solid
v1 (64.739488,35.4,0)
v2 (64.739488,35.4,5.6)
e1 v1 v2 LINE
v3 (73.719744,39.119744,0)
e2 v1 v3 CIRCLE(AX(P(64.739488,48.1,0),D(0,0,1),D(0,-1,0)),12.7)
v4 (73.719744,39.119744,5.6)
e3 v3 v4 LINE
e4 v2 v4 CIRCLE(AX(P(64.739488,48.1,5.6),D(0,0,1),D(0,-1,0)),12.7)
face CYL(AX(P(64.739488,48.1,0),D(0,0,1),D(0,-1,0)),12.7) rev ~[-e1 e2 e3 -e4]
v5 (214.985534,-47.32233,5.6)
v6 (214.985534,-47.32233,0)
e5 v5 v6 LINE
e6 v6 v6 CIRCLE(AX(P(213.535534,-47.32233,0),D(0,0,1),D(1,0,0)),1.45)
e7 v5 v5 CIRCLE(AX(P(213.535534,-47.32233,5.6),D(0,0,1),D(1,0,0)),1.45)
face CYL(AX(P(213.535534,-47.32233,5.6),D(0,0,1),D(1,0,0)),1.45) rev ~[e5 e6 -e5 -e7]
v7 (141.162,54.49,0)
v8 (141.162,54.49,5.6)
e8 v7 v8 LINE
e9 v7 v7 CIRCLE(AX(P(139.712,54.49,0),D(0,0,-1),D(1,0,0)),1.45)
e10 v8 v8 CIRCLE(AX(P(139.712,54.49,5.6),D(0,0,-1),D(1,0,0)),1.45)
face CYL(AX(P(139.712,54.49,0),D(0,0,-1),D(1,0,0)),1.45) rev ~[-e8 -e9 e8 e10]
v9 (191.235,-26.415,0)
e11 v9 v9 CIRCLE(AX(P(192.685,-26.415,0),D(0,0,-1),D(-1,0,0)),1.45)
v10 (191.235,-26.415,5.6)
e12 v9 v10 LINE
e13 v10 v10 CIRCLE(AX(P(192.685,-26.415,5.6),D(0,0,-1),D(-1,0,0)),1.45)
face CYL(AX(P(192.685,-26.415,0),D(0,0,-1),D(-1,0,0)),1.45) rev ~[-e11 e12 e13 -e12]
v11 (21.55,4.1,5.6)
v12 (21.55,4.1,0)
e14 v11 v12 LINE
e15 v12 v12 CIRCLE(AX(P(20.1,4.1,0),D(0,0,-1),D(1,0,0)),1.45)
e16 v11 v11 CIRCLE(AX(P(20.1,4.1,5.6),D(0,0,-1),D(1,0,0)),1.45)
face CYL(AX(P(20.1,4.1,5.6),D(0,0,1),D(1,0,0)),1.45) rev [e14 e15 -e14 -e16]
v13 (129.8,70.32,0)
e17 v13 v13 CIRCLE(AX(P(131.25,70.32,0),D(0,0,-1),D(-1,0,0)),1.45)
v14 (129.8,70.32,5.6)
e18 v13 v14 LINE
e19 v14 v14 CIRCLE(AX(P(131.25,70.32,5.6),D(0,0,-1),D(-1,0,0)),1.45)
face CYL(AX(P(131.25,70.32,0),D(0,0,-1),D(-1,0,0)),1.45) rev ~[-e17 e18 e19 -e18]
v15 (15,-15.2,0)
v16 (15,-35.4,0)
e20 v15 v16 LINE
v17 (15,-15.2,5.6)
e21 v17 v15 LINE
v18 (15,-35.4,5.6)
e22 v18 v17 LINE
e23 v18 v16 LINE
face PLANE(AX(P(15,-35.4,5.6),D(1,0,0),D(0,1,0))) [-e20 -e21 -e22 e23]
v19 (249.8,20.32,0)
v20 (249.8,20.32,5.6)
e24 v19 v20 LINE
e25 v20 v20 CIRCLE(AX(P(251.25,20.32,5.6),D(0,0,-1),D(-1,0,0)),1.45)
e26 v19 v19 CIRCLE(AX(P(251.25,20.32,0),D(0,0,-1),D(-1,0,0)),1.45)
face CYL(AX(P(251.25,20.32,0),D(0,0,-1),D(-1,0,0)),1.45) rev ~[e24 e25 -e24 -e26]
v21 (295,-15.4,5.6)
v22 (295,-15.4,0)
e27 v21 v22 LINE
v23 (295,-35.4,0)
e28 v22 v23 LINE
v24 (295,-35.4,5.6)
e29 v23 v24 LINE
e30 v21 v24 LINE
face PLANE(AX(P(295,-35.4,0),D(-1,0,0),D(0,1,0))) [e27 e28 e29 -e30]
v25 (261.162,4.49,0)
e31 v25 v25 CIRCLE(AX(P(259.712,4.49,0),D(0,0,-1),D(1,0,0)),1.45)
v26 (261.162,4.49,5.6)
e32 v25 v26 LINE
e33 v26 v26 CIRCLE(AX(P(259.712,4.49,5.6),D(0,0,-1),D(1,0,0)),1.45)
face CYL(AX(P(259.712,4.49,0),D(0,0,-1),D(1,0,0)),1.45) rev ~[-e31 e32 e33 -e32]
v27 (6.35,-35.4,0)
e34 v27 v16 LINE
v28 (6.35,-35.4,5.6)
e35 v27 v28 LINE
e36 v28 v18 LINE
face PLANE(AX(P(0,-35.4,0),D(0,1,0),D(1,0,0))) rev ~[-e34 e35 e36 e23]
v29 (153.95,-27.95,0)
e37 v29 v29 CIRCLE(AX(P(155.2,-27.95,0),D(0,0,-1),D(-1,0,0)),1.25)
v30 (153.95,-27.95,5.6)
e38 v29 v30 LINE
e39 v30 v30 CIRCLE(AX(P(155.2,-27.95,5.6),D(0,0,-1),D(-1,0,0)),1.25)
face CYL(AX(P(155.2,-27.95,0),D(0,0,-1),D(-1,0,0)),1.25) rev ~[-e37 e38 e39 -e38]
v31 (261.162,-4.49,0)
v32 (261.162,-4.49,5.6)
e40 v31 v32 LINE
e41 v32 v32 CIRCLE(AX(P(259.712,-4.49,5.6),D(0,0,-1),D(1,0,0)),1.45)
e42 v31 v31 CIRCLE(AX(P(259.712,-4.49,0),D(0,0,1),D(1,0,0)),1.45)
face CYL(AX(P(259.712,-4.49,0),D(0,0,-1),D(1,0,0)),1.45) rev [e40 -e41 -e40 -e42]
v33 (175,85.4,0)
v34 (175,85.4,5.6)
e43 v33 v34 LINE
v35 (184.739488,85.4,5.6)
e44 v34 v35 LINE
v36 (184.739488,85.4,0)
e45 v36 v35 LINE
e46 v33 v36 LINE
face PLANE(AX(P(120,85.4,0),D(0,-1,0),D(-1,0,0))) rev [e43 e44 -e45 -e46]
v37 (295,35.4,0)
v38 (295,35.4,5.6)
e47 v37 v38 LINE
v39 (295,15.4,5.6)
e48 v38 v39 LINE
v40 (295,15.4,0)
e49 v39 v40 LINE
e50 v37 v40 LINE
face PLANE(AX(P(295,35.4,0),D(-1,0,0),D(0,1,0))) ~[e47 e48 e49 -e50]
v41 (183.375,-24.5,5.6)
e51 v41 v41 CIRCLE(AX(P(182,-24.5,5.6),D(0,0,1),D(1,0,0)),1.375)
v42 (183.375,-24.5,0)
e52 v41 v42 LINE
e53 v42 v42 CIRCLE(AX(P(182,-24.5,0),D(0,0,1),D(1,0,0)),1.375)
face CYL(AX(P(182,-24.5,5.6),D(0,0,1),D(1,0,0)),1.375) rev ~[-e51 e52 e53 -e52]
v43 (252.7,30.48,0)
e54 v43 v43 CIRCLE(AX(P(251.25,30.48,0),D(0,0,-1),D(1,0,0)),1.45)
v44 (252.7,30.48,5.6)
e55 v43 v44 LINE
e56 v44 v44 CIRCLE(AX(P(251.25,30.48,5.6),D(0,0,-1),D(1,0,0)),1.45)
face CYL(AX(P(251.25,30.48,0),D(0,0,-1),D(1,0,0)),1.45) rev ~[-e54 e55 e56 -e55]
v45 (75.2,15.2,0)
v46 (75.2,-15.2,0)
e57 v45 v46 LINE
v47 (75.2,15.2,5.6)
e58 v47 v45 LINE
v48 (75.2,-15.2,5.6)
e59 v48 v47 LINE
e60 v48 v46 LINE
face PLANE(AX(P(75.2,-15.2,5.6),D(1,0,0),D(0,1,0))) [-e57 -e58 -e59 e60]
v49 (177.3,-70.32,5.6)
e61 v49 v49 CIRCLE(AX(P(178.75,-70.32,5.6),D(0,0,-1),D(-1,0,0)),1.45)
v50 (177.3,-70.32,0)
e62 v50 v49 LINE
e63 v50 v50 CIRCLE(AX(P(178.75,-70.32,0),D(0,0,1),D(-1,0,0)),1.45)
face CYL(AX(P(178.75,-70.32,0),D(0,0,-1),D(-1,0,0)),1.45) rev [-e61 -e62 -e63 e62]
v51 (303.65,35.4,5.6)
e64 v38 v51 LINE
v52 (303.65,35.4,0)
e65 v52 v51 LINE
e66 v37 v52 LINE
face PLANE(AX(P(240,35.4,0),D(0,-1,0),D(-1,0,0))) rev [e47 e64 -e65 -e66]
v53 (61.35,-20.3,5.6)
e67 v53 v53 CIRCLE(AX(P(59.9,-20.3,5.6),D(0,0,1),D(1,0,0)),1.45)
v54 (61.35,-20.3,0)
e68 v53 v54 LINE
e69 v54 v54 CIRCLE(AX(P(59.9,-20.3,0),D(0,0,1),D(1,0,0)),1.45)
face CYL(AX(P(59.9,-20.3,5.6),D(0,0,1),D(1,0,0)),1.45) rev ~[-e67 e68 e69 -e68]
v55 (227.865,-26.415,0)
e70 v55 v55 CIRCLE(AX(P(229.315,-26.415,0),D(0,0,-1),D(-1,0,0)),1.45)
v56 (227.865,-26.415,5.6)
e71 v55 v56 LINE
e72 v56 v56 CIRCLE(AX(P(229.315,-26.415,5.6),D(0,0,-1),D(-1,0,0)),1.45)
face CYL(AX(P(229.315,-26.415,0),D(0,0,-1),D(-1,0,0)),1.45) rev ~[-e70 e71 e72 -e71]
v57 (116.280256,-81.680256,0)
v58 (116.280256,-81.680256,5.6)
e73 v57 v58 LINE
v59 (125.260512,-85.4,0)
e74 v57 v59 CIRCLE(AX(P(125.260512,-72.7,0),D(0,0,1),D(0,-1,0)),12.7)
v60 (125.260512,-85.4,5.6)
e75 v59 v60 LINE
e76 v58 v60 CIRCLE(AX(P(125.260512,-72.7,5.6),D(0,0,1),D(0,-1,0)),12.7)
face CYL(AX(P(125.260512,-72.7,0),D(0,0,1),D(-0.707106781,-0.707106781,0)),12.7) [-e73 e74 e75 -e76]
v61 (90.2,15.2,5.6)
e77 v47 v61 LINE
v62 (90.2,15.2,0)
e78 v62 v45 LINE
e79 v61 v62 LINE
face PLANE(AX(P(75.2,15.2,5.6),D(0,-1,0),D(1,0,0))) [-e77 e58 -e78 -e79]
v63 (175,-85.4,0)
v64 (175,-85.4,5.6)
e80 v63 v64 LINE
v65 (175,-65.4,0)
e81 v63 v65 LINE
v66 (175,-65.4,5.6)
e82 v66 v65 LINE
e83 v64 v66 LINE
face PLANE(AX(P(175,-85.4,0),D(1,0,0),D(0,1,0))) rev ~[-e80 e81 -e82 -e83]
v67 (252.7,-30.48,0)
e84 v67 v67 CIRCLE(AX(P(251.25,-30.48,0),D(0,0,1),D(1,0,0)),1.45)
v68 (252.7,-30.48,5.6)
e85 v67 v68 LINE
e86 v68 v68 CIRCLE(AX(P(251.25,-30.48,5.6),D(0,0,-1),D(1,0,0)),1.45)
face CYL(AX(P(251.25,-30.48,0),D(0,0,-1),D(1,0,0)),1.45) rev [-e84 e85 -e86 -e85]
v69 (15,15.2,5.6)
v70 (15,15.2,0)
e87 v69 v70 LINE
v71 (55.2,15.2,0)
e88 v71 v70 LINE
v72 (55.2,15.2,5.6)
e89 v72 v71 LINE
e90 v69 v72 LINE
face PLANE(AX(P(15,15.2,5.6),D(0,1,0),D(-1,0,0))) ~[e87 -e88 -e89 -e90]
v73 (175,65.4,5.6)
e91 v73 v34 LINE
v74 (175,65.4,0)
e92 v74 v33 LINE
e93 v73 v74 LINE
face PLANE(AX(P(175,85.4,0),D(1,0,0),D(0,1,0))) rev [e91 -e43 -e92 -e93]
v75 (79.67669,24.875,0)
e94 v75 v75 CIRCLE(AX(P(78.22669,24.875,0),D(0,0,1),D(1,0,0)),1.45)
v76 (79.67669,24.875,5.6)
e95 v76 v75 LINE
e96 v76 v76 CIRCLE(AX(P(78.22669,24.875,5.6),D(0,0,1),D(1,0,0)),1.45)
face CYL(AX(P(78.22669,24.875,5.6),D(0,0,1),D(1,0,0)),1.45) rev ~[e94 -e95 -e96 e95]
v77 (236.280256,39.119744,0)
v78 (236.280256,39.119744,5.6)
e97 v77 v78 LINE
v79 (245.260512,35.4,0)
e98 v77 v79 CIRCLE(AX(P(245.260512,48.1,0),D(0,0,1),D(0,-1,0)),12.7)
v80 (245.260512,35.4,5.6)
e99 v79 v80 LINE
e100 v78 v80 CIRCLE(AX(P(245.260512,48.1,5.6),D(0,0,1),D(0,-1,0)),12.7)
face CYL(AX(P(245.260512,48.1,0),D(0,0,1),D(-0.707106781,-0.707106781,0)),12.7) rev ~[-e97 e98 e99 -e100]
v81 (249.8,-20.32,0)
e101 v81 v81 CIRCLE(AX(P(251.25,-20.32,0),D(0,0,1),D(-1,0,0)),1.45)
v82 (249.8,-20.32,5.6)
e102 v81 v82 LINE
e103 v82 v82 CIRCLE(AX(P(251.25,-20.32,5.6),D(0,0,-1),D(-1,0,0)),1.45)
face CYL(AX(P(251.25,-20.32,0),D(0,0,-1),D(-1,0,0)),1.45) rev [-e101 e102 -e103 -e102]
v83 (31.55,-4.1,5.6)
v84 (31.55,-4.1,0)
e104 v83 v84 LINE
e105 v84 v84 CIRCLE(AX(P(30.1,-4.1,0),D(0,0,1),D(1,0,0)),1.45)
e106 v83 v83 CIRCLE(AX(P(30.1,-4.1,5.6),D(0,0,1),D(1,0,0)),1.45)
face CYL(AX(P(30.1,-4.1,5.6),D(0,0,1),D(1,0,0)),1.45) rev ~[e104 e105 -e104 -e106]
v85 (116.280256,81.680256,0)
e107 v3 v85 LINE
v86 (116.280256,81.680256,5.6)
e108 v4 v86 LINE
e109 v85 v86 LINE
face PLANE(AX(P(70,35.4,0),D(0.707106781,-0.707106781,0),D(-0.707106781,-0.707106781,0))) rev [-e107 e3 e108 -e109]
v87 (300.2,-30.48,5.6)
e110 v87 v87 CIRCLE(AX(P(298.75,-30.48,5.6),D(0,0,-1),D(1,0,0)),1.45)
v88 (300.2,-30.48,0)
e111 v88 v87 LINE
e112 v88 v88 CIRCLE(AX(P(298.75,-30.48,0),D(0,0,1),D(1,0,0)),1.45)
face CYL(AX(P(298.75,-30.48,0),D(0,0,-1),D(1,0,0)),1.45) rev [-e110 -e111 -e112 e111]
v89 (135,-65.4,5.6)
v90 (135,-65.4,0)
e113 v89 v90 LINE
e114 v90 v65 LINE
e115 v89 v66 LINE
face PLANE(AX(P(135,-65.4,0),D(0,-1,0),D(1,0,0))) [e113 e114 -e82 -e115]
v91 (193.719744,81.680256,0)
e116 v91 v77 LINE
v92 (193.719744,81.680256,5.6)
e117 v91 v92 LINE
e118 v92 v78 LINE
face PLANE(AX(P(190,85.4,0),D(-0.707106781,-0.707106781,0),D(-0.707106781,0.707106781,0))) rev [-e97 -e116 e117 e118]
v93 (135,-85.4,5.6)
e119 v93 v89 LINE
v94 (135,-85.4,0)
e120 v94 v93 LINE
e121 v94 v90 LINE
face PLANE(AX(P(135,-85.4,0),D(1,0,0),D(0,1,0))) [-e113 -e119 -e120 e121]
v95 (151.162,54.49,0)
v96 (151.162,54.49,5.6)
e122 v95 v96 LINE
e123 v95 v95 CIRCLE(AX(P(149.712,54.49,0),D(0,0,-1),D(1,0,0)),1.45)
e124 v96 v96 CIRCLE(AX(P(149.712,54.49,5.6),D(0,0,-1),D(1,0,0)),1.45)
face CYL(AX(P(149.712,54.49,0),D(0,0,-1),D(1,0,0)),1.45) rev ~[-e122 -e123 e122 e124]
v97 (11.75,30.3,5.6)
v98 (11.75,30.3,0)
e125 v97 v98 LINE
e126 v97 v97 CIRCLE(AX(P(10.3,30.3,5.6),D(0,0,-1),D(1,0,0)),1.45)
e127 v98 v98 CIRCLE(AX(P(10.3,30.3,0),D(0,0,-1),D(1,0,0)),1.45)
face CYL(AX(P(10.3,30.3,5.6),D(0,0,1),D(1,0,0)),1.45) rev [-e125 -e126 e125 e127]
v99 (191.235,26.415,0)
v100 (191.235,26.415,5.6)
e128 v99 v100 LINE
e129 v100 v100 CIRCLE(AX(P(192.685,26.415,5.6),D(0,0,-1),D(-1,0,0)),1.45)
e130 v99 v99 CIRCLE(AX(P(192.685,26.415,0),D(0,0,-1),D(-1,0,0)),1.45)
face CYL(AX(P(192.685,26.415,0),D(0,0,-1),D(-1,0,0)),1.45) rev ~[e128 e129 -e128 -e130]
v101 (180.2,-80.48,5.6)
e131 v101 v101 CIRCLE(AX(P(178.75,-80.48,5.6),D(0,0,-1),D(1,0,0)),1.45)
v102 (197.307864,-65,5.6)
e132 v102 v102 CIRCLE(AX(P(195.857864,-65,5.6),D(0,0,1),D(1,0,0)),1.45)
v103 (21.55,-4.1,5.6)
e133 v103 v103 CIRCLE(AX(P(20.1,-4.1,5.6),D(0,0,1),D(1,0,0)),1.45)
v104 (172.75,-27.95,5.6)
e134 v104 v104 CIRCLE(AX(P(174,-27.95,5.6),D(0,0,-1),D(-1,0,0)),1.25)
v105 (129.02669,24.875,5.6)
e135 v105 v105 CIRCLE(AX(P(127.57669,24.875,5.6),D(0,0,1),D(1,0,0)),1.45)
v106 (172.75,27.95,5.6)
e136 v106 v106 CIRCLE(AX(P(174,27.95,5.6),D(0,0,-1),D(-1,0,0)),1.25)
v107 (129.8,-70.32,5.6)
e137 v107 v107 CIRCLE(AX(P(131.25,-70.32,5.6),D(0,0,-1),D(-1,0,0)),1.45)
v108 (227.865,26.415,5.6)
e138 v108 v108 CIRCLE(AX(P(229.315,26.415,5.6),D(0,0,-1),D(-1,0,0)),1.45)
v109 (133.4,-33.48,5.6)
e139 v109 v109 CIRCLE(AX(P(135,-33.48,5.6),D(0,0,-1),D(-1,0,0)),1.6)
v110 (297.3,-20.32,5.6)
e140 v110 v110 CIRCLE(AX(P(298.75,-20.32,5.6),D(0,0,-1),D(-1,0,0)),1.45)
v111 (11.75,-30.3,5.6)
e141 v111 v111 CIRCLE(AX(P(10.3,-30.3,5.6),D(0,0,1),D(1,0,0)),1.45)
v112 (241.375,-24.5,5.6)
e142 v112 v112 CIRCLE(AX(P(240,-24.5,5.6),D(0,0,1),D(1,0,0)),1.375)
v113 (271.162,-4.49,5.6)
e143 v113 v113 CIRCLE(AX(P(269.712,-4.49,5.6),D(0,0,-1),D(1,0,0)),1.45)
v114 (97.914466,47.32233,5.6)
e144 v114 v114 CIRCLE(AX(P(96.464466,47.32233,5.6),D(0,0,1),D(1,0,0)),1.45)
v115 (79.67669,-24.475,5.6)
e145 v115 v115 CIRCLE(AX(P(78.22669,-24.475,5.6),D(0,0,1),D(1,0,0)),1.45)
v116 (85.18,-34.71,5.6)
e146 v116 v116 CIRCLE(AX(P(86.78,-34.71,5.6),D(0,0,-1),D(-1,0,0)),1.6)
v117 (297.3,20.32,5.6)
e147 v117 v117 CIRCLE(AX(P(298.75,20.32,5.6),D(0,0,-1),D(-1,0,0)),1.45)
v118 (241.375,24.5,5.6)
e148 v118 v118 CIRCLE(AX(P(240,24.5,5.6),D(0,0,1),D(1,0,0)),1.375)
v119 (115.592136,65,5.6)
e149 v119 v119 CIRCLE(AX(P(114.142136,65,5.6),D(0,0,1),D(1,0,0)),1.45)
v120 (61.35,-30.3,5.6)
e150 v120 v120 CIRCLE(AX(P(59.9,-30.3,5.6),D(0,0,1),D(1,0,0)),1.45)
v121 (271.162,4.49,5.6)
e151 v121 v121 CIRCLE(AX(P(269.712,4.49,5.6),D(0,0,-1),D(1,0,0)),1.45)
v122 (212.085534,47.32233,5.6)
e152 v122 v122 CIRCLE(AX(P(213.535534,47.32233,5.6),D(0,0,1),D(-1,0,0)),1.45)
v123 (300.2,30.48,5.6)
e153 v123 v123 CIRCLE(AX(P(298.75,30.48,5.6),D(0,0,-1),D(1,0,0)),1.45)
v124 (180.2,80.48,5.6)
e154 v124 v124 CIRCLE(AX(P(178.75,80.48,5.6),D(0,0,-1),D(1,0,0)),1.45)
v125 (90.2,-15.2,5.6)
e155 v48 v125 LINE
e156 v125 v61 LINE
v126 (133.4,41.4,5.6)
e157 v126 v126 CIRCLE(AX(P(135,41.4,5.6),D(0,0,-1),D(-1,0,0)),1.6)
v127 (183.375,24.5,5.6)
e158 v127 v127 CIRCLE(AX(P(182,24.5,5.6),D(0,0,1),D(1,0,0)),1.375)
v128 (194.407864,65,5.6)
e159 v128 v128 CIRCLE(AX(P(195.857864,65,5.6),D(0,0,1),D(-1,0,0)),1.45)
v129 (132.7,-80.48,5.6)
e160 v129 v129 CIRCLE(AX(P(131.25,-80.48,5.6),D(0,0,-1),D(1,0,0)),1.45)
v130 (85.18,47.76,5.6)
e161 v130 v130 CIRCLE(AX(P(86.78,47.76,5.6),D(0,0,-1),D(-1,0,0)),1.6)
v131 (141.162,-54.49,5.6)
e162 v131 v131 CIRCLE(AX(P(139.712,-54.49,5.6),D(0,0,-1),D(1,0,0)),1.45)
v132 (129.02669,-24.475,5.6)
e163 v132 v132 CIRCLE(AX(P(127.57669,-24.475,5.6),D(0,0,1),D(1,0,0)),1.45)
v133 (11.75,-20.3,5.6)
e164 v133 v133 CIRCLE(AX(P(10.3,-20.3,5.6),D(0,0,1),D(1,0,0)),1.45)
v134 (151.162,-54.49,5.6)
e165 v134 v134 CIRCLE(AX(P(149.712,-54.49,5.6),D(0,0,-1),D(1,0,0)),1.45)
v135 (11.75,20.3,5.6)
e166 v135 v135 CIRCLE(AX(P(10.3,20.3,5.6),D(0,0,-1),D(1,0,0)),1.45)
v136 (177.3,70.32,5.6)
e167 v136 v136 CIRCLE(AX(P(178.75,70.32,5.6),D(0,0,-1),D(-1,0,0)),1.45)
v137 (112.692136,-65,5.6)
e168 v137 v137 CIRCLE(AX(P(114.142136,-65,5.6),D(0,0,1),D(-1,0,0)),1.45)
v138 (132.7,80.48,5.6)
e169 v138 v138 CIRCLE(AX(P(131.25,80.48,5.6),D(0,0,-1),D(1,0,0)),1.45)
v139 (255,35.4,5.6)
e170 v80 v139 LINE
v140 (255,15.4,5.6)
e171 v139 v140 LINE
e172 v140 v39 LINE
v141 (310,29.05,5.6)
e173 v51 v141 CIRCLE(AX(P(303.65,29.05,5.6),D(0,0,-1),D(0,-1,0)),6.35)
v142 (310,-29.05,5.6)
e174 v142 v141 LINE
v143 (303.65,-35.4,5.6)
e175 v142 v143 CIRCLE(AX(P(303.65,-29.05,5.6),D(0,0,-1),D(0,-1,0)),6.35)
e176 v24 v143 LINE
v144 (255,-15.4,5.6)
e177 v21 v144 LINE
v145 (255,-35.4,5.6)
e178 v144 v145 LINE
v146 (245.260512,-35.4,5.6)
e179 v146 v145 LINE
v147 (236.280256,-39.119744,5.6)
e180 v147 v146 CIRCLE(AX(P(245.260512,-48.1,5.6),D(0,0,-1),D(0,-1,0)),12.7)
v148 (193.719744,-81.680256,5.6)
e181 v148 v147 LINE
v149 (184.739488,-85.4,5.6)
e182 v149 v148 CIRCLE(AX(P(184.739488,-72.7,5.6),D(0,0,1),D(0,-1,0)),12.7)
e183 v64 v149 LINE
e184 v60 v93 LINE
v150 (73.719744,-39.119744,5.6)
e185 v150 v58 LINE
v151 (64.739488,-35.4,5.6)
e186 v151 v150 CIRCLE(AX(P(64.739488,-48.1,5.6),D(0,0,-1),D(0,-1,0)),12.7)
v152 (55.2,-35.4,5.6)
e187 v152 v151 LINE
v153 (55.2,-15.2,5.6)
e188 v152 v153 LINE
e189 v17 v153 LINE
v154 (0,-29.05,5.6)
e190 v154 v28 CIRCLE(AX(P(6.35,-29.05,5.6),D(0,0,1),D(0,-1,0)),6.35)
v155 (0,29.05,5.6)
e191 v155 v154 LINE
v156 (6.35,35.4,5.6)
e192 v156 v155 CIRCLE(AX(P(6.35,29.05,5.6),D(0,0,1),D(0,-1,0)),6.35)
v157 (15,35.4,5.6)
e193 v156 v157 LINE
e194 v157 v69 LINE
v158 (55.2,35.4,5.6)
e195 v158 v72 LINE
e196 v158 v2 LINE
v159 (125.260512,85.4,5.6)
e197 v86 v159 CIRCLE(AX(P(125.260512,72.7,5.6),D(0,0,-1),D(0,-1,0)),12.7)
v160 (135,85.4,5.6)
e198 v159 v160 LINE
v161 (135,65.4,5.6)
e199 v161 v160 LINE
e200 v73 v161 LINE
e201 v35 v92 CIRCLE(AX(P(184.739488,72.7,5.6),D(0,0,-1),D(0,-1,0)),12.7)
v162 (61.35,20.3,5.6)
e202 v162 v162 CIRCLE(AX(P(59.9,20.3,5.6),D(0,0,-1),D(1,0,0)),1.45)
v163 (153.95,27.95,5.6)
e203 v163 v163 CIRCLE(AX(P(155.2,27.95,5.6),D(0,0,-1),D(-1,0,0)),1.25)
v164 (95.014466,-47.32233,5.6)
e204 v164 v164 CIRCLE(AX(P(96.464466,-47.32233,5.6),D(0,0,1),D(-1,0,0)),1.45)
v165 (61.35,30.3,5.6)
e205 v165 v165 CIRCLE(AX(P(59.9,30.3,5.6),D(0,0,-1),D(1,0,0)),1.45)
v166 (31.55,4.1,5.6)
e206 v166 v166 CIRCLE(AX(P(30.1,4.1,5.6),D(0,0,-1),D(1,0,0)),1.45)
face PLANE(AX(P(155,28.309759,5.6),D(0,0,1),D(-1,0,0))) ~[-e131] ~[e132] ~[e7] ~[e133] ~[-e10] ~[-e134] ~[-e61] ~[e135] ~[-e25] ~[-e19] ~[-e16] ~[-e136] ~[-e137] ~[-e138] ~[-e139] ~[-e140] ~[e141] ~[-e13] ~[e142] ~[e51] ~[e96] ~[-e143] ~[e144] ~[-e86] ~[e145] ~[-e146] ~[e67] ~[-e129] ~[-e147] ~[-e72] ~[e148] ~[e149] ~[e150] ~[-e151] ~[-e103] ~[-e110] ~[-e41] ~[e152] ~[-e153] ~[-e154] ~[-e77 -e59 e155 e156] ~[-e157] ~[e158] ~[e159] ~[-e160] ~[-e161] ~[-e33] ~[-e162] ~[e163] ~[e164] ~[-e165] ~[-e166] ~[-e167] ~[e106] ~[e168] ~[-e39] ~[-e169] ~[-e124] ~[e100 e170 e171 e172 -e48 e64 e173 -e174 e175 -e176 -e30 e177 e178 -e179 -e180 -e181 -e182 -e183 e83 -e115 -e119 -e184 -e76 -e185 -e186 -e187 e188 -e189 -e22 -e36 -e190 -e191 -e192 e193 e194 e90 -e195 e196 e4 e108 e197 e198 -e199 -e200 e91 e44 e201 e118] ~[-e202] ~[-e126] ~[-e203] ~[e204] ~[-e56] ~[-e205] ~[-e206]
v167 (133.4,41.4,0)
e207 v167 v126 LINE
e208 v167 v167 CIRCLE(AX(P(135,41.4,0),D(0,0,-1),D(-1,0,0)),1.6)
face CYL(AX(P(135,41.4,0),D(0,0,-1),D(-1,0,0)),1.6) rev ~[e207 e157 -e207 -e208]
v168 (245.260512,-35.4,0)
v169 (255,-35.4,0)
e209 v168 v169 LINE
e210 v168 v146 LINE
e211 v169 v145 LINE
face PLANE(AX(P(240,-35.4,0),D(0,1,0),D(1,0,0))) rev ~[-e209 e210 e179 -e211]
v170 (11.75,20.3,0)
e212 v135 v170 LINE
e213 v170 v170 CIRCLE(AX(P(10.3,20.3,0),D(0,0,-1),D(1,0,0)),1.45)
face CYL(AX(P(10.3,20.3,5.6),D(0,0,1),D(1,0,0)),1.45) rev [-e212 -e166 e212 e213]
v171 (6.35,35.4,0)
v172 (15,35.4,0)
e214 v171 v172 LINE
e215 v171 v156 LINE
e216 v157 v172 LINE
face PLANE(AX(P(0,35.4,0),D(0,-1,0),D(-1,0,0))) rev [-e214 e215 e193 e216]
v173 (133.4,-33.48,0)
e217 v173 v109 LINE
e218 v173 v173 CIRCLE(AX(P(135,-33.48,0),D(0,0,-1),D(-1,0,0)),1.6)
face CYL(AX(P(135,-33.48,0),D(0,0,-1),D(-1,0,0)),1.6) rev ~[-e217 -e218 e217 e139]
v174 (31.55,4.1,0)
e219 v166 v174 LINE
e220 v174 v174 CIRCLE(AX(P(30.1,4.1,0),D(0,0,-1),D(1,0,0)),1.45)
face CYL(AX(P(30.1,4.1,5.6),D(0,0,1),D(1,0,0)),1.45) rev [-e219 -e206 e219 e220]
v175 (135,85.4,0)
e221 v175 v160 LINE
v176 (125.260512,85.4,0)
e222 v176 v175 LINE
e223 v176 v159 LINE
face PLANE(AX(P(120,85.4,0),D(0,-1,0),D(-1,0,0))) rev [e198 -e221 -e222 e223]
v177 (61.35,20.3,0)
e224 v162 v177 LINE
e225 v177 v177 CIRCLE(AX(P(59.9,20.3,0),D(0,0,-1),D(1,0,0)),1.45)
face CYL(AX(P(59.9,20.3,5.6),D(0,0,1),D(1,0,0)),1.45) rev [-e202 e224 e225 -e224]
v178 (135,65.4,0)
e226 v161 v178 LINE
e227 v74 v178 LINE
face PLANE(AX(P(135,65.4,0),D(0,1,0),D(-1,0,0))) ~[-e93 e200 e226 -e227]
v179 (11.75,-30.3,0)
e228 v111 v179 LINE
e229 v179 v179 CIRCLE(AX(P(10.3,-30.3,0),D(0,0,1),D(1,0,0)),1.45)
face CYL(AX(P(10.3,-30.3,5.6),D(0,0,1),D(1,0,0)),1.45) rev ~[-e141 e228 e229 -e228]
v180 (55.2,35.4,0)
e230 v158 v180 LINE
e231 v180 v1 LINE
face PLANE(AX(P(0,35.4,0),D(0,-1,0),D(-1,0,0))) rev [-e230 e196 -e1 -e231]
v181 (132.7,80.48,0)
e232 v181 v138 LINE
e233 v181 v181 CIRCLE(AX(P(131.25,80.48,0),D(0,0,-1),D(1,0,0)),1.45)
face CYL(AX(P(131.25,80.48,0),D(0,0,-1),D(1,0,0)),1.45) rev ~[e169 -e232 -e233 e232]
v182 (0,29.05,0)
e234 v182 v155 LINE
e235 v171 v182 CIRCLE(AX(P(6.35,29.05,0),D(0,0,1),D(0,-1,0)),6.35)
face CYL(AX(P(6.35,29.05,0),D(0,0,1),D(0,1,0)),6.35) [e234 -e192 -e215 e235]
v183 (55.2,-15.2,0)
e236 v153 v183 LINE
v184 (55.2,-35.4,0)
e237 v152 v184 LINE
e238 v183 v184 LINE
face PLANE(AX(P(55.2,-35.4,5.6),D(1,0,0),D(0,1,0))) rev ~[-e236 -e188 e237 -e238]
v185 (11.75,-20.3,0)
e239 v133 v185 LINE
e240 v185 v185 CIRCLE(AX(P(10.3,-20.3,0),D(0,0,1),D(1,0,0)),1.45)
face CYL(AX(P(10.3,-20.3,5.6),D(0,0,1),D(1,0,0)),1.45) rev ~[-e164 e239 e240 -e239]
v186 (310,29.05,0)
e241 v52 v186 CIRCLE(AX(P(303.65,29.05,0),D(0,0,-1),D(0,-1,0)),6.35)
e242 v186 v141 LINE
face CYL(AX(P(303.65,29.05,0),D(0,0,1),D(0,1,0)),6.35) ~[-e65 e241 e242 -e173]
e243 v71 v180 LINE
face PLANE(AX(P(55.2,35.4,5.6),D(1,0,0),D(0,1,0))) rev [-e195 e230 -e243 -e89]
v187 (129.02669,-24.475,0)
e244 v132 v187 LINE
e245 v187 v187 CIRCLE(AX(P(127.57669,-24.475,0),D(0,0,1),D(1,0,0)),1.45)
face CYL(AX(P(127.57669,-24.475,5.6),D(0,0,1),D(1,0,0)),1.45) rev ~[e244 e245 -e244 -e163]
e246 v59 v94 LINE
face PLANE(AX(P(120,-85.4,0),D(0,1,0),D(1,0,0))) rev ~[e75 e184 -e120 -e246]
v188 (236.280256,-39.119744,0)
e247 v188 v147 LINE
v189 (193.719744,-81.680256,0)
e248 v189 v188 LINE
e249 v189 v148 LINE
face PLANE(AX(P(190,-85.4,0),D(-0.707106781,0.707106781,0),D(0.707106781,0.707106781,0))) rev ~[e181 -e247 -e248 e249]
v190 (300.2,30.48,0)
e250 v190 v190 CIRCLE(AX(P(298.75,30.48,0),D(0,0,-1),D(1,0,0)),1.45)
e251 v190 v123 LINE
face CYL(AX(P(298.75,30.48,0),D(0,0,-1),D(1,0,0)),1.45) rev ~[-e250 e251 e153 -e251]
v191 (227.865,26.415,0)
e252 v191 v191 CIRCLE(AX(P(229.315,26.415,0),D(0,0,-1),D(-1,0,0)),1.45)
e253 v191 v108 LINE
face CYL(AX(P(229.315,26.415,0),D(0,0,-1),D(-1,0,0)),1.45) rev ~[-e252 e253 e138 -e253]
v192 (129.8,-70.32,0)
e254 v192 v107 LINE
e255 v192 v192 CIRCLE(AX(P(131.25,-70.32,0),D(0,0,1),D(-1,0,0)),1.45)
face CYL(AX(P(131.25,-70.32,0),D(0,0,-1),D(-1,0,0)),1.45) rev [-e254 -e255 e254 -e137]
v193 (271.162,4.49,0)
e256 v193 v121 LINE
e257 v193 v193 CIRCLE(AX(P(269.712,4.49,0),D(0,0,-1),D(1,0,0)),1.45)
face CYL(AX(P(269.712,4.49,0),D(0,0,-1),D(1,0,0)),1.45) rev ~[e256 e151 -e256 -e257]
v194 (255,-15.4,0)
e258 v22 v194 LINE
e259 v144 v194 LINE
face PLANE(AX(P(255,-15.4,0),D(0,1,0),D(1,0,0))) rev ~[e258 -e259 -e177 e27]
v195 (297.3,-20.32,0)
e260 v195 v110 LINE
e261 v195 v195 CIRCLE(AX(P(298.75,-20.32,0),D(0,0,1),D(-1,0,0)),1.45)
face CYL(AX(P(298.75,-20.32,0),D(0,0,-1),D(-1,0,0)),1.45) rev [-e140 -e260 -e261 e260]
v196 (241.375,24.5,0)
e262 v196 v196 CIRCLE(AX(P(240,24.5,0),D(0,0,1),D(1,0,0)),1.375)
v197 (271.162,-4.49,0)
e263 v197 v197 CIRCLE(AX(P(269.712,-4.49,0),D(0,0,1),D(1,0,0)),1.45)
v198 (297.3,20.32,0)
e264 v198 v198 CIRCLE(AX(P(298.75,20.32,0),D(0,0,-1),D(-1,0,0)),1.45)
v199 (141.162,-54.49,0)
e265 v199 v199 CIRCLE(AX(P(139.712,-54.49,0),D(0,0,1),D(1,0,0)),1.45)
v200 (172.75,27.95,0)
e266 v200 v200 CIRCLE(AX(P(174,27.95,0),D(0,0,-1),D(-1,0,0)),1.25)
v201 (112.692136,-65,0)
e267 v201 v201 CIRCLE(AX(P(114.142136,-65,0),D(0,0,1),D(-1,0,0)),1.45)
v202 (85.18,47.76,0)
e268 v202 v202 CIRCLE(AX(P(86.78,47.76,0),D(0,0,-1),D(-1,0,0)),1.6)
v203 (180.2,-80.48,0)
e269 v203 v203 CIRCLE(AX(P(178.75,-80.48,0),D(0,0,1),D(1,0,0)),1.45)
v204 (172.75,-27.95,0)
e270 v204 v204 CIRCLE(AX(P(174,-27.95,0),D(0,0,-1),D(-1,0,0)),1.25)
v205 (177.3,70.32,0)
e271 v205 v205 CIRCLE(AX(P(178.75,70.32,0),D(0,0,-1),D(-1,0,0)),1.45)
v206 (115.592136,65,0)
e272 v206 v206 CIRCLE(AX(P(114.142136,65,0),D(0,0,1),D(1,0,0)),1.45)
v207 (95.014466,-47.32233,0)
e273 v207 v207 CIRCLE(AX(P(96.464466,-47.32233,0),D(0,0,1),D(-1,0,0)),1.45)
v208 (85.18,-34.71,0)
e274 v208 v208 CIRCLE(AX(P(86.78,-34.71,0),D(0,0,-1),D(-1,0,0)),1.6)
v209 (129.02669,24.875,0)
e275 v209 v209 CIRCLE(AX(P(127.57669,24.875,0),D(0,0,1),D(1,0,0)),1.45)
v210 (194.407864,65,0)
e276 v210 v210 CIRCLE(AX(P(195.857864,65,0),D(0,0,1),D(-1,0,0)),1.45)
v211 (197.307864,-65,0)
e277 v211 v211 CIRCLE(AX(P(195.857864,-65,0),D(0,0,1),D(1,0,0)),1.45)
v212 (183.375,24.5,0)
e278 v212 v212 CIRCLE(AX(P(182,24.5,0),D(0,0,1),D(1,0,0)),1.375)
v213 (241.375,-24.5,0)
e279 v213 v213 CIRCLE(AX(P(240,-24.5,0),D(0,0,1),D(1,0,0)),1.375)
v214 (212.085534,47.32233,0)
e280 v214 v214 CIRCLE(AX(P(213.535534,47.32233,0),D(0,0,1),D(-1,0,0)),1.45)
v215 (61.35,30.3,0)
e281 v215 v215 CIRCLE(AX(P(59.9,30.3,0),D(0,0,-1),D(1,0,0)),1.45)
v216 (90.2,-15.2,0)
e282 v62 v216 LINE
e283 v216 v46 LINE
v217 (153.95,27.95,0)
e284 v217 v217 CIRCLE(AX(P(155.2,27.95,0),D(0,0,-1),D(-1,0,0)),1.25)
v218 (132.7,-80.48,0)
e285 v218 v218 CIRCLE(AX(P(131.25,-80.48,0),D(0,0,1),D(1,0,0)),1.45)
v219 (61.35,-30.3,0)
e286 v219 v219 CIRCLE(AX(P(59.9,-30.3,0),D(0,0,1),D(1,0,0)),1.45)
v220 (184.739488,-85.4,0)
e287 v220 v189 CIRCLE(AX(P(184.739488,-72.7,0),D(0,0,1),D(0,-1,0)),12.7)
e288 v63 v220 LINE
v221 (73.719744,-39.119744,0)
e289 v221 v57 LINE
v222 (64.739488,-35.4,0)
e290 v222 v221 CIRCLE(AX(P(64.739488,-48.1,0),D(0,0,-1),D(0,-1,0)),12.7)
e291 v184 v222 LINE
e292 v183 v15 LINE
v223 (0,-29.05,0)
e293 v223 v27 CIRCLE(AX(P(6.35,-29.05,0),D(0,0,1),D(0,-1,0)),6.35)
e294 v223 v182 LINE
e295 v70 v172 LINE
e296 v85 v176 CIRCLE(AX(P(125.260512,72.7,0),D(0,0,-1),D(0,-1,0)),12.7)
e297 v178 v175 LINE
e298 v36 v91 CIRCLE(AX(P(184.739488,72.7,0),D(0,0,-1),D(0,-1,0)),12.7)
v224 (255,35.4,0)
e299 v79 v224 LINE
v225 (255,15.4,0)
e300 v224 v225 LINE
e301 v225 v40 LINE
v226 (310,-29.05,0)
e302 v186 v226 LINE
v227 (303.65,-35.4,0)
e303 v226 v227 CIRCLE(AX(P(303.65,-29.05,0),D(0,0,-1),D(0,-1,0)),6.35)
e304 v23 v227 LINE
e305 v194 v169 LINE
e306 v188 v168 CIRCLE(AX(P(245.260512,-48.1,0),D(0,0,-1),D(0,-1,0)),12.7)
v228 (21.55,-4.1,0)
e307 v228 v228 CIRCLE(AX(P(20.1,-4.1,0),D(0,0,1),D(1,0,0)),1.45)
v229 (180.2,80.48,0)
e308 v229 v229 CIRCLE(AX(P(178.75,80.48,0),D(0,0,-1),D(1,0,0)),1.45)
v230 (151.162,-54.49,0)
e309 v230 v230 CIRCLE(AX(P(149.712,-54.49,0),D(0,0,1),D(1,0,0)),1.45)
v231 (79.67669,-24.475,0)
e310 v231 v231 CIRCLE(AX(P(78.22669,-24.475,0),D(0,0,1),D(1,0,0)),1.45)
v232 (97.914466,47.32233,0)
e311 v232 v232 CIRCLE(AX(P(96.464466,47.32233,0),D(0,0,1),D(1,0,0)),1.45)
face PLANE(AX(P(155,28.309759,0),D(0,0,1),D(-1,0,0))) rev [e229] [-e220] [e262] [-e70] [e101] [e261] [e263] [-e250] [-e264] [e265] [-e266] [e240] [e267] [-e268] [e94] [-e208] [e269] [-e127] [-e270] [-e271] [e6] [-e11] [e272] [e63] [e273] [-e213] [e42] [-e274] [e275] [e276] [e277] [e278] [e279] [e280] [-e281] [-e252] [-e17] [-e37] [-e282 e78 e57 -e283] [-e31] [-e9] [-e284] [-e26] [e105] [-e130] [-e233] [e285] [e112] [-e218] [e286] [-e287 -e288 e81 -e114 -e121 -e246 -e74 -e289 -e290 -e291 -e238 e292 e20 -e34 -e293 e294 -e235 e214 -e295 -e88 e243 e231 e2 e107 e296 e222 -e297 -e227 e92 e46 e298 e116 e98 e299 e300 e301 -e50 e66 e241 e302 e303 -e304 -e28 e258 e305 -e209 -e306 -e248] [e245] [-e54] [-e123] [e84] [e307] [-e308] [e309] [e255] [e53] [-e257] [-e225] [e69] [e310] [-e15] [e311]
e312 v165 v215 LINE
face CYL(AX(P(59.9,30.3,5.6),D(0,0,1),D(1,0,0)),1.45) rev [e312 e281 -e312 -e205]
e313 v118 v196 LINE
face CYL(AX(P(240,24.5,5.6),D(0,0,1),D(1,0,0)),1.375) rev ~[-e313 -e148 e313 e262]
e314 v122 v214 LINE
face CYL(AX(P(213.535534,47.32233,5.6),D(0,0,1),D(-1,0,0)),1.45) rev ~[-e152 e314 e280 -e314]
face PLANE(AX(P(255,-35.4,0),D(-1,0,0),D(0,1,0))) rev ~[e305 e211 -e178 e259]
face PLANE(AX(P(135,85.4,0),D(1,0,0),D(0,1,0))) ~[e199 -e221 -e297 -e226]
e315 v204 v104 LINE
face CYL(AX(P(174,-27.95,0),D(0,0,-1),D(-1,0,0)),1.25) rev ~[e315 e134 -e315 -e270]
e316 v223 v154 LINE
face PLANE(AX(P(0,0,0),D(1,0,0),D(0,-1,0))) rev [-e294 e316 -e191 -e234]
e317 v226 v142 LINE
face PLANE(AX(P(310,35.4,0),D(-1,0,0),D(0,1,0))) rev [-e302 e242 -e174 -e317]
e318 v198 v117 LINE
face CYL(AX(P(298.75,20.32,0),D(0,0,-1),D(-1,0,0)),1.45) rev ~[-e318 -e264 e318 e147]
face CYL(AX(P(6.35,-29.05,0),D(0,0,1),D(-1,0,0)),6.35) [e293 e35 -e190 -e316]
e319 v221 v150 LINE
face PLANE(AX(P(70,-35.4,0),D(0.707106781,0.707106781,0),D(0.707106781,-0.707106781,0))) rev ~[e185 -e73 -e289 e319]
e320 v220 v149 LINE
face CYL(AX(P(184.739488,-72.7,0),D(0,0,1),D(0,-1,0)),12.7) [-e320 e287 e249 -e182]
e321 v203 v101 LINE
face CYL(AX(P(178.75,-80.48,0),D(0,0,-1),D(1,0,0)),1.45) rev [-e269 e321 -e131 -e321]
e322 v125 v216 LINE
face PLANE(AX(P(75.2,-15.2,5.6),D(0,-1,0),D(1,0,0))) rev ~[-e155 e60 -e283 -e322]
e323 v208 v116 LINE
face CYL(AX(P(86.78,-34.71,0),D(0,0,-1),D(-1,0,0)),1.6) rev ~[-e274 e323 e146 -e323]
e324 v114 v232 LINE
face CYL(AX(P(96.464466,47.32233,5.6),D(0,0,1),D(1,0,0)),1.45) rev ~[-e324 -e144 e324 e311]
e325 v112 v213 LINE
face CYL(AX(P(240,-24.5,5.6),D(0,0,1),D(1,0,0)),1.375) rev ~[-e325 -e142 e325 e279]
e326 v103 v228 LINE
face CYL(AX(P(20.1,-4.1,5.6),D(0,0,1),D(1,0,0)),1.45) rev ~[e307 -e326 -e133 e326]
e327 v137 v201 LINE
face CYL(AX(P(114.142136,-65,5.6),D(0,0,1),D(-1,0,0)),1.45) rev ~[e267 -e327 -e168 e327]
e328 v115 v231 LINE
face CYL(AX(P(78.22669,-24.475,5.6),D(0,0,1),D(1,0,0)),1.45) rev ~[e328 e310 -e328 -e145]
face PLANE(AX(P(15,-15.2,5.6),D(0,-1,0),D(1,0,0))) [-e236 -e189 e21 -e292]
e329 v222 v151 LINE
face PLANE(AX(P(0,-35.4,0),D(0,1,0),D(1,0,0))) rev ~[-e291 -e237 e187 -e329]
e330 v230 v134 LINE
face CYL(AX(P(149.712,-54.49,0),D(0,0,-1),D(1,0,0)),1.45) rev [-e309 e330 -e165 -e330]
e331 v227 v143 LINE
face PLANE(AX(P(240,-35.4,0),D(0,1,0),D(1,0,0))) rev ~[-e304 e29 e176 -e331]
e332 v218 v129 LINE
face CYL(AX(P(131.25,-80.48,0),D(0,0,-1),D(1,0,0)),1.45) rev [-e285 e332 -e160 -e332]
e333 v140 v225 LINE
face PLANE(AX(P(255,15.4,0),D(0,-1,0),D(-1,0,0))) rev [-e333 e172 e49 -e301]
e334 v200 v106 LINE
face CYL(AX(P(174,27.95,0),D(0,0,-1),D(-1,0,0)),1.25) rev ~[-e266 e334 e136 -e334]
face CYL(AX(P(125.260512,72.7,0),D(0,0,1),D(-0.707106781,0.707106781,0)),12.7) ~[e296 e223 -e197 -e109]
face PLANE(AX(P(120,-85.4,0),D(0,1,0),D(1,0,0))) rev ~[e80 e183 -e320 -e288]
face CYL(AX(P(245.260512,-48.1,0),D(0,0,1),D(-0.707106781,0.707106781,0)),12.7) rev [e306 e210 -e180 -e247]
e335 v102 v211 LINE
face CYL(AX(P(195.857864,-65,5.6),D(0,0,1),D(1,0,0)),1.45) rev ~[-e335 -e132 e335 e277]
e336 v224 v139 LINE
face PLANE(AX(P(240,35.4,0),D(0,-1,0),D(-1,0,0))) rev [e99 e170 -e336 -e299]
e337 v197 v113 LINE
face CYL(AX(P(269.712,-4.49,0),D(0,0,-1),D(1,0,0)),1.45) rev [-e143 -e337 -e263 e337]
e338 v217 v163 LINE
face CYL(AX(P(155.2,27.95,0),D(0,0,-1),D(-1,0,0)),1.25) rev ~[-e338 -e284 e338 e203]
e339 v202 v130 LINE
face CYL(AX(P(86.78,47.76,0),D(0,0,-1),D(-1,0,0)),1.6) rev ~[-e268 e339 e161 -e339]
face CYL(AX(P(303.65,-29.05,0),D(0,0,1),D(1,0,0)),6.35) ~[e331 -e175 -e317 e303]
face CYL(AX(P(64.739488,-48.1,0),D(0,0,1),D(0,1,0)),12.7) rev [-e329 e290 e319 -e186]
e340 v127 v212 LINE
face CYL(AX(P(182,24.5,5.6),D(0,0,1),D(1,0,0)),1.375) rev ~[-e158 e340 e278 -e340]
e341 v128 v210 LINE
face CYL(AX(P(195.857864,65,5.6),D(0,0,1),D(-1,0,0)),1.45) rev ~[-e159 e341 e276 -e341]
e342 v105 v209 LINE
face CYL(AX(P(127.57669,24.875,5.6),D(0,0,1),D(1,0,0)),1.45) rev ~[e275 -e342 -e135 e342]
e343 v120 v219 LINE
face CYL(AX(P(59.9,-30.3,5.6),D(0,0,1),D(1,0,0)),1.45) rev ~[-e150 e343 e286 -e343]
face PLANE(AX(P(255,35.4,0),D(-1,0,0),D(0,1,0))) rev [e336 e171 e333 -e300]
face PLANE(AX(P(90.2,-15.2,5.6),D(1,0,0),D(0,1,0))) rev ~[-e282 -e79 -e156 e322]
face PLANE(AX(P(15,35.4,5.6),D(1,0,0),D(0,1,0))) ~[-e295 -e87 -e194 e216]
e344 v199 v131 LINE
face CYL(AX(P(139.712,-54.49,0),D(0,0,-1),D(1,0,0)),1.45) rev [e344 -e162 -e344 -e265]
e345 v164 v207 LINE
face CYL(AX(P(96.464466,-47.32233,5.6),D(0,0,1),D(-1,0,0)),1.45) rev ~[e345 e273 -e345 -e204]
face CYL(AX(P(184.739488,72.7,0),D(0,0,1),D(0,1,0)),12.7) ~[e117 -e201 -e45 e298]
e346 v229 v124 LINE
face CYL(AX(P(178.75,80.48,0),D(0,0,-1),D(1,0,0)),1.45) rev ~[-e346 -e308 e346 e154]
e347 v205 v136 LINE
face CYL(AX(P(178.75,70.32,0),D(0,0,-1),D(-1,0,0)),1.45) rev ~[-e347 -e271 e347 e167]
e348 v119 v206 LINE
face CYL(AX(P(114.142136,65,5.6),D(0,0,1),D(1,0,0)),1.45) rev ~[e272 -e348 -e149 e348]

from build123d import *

# Parameters (mm, degrees)
BOSS_EXTRU_1_DEPTH       = 5.6
ENL_V_MAT_EXTRU_1_REACH  = 323.597
ESQUISSE2_W              = 40.2
ESQUISSE2_H              = 20.2
ENL_V_MAT_EXTRU_2_REACH  = 323.597
ESQUISSE3_R              = 1.45
SKETCH2_W                = 40
SKETCH2_H                = 20
CUT_EXTRUDE2_DEPTH       = 322.596828343
SKETCH5_R                = 1.45
CUT_EXTRUDE4_DEPTH       = 322.596828343
ESQUISSE4_R              = 1.375
ENL_V_MAT_EXTRU_4_DEPTH  = 322.596828343
ESQUISSE6_R              = 1.45
ENL_V_MAT_EXTRU_6_DEPTH  = 322.596828343
ESQUISSE8_R              = 1.25
ENL_V_MAT_EXTRU_7_DEPTH  = 322.596828343
ESQUISSE9_R              = 1.6
ENL_V_MAT_EXTRU_8_DEPTH  = 322.596828343
SKETCH6_W                = 15
SKETCH6_H                = 30.4
CUT_EXTRUDE5_DEPTH       = 10
ESQUISSE12_R             = 1.45
ENL_V_MAT_EXTRU_11_DEPTH = 322.596828343
FILLET1_R                = 6.35
FILLET2_R                = 12.7
SKETCH8_R                = 1.45
CUT_EXTRUDE7_DEPTH       = 322.596828343


with BuildPart() as part:
    # Esquisse1 → Boss.-Extru.1 (new body)
    with BuildSketch(Plane.XY):
        Polygon((70, -35.4), (120, -85.4), (190, -85.4), (240, -35.4), (310, -35.4), (310, 0), (25.838605695, 0), (0, 0), (0, -35.4), align=None)
    boss_extru_1 = extrude(amount=BOSS_EXTRU_1_DEPTH)

    # Esquisse2 → Enlèv. mat.-Extru.1 (cut, up to next)
    with BuildSketch(Plane.XY.offset(5.6), mode=Mode.PRIVATE) as enl_v_mat_extru_1_sk1:
        with Locations((35.1, -25.3)):
            Rectangle(ESQUISSE2_W, ESQUISSE2_H)
    enl_v_mat_extru_1_tool1 = extrude(enl_v_mat_extru_1_sk1.sketch, amount=-ENL_V_MAT_EXTRU_1_REACH, mode=Mode.PRIVATE) & part.part
    enl_v_mat_extru_1 = enl_v_mat_extru_1_tool1.solids().sort_by_distance((35.1, -25.3, 5.6))[0]
    add(enl_v_mat_extru_1, mode=Mode.SUBTRACT)

    # Esquisse3 → Enlèv. mat.-Extru.2 (cut, up to next)
    with BuildSketch(Plane.XY.offset(5.6), mode=Mode.PRIVATE) as enl_v_mat_extru_2_sk1:
        with Locations((10.3, -30.3)):
            Circle(ESQUISSE3_R)
    enl_v_mat_extru_2_tool1 = extrude(enl_v_mat_extru_2_sk1.sketch, amount=-ENL_V_MAT_EXTRU_2_REACH, mode=Mode.PRIVATE) & part.part
    # Esquisse3 → Enlèv. mat.-Extru.2 (cut, up to next)
    with BuildSketch(Plane.XY.offset(5.6), mode=Mode.PRIVATE) as enl_v_mat_extru_2_sk2:
        with Locations((59.9, -30.3)):
            Circle(ESQUISSE3_R)
    enl_v_mat_extru_2_tool2 = extrude(enl_v_mat_extru_2_sk2.sketch, amount=-ENL_V_MAT_EXTRU_2_REACH, mode=Mode.PRIVATE) & part.part
    # Esquisse3 → Enlèv. mat.-Extru.2 (cut, up to next)
    with BuildSketch(Plane.XY.offset(5.6), mode=Mode.PRIVATE) as enl_v_mat_extru_2_sk3:
        with Locations((59.9, -20.3)):
            Circle(ESQUISSE3_R)
    enl_v_mat_extru_2_tool3 = extrude(enl_v_mat_extru_2_sk3.sketch, amount=-ENL_V_MAT_EXTRU_2_REACH, mode=Mode.PRIVATE) & part.part
    # Esquisse3 → Enlèv. mat.-Extru.2 (cut, up to next)
    with BuildSketch(Plane.XY.offset(5.6), mode=Mode.PRIVATE) as enl_v_mat_extru_2_sk4:
        with Locations((10.3, -20.3)):
            Circle(ESQUISSE3_R)
    enl_v_mat_extru_2_tool4 = extrude(enl_v_mat_extru_2_sk4.sketch, amount=-ENL_V_MAT_EXTRU_2_REACH, mode=Mode.PRIVATE) & part.part
    # Esquisse3 → Enlèv. mat.-Extru.2 (cut, up to next)
    with BuildSketch(Plane.XY.offset(5.6), mode=Mode.PRIVATE) as enl_v_mat_extru_2_sk5:
        with Locations((20.1, -4.1)):
            Circle(ESQUISSE3_R)
    enl_v_mat_extru_2_tool5 = extrude(enl_v_mat_extru_2_sk5.sketch, amount=-ENL_V_MAT_EXTRU_2_REACH, mode=Mode.PRIVATE) & part.part
    # Esquisse3 → Enlèv. mat.-Extru.2 (cut, up to next)
    with BuildSketch(Plane.XY.offset(5.6), mode=Mode.PRIVATE) as enl_v_mat_extru_2_sk6:
        with Locations((30.1, -4.1)):
            Circle(ESQUISSE3_R)
    enl_v_mat_extru_2_tool6 = extrude(enl_v_mat_extru_2_sk6.sketch, amount=-ENL_V_MAT_EXTRU_2_REACH, mode=Mode.PRIVATE) & part.part
    enl_v_mat_extru_2_1 = enl_v_mat_extru_2_tool1.solids().sort_by_distance((10.3, -30.3, 5.6))[0]
    add(enl_v_mat_extru_2_1, mode=Mode.SUBTRACT)
    enl_v_mat_extru_2_2 = enl_v_mat_extru_2_tool2.solids().sort_by_distance((59.9, -30.3, 5.6))[0]
    add(enl_v_mat_extru_2_2, mode=Mode.SUBTRACT)
    enl_v_mat_extru_2_3 = enl_v_mat_extru_2_tool3.solids().sort_by_distance((59.9, -20.3, 5.6))[0]
    add(enl_v_mat_extru_2_3, mode=Mode.SUBTRACT)
    enl_v_mat_extru_2_4 = enl_v_mat_extru_2_tool4.solids().sort_by_distance((10.3, -20.3, 5.6))[0]
    add(enl_v_mat_extru_2_4, mode=Mode.SUBTRACT)
    enl_v_mat_extru_2_5 = enl_v_mat_extru_2_tool5.solids().sort_by_distance((20.1, -4.1, 5.6))[0]
    add(enl_v_mat_extru_2_5, mode=Mode.SUBTRACT)
    enl_v_mat_extru_2_6 = enl_v_mat_extru_2_tool6.solids().sort_by_distance((30.1, -4.1, 5.6))[0]
    add(enl_v_mat_extru_2_6, mode=Mode.SUBTRACT)
    enl_v_mat_extru_2 = enl_v_mat_extru_2_1 + enl_v_mat_extru_2_2 + enl_v_mat_extru_2_3 + enl_v_mat_extru_2_4 + enl_v_mat_extru_2_5 + enl_v_mat_extru_2_6  # Enlèv. mat.-Extru.2 as one shape, for the pattern or mirror that repeats it

    # Sketch2 → Cut-Extrude2 (cut, symmetric)
    with BuildSketch(Plane.XY):
        with Locations((275, -25.4)):
            Rectangle(SKETCH2_W, SKETCH2_H)
        with Locations((155, -75.4)):
            Rectangle(SKETCH2_W, SKETCH2_H)
    cut_extrude2 = extrude(amount=CUT_EXTRUDE2_DEPTH, both=True, mode=Mode.SUBTRACT)

    # Sketch5 → Cut-Extrude4 (cut, through all)
    with BuildSketch(Plane.XY):
        with Locations((131.25, -80.48)):
            Circle(SKETCH5_R)
        with Locations((178.75, -80.48)):
            Circle(SKETCH5_R)
        with Locations(Location((178.75, -70.32, 0), (0, 0, 180))):
            Circle(SKETCH5_R)
        with Locations(Location((131.25, -70.32, 0), (0, 0, 180))):
            Circle(SKETCH5_R)
        with Locations((251.25, -30.48)):
            Circle(SKETCH5_R)
        with Locations((298.75, -30.48)):
            Circle(SKETCH5_R)
        with Locations(Location((298.75, -20.32, 0), (0, 0, 180))):
            Circle(SKETCH5_R)
        with Locations(Location((251.25, -20.32, 0), (0, 0, 180))):
            Circle(SKETCH5_R)
        with Locations((139.712, -54.49)):
            Circle(SKETCH5_R)
        with Locations((149.712, -54.49)):
            Circle(SKETCH5_R)
        with Locations((259.712, -4.49)):
            Circle(SKETCH5_R)
        with Locations((269.712, -4.49)):
            Circle(SKETCH5_R)
    cut_extrude4 = extrude(amount=CUT_EXTRUDE4_DEPTH, mode=Mode.SUBTRACT)

    # Mirror1: Boss.-Extru.1, Enlèv. mat.-Extru.1, Enlèv. mat.-Extru.2, Cut-Extrude2, Cut-Extrude4 across plane
    add(boss_extru_1.mirror(Plane.ZX))
    add(enl_v_mat_extru_1.mirror(Plane.ZX), mode=Mode.SUBTRACT)
    add(enl_v_mat_extru_2.mirror(Plane.ZX), mode=Mode.SUBTRACT)
    add(cut_extrude2.mirror(Plane.ZX), mode=Mode.SUBTRACT)
    add(cut_extrude4.mirror(Plane.ZX), mode=Mode.SUBTRACT)

    # Esquisse4 → Enlèv. mat.-Extru.4 (cut, through all)
    with BuildSketch(Plane.XY.offset(5.6)):
        with Locations((182, -24.5)):
            Circle(ESQUISSE4_R)
        with Locations((240, -24.5)):
            Circle(ESQUISSE4_R)
        with Locations((240, 24.5)):
            Circle(ESQUISSE4_R)
        with Locations((182, 24.5)):
            Circle(ESQUISSE4_R)
    extrude(amount=-ENL_V_MAT_EXTRU_4_DEPTH, mode=Mode.SUBTRACT)

    # Esquisse6 → Enlèv. mat.-Extru.6 (cut, through all)
    with BuildSketch(Plane(origin=(0, 0, 0), x_dir=(-1, 0, 0), z_dir=(0, 0, -1))):
        with Locations((-192.685, -26.415)):
            Circle(ESQUISSE6_R)
        with Locations((-229.315, -26.415)):
            Circle(ESQUISSE6_R)
        with Locations((-229.315, 26.415)):
            Circle(ESQUISSE6_R)
        with Locations((-192.685, 26.415)):
            Circle(ESQUISSE6_R)
    extrude(amount=-ENL_V_MAT_EXTRU_6_DEPTH, mode=Mode.SUBTRACT)

    # Esquisse8 → Enlèv. mat.-Extru.7 (cut, through all)
    with BuildSketch(Plane(origin=(0, 0, 0), x_dir=(-1, 0, 0), z_dir=(0, 0, -1))):
        with Locations((-155.2, 27.95)):
            Circle(ESQUISSE8_R)
        with Locations((-174, 27.95)):
            Circle(ESQUISSE8_R)
        with Locations((-174, -27.95)):
            Circle(ESQUISSE8_R)
        with Locations((-155.2, -27.95)):
            Circle(ESQUISSE8_R)
    extrude(amount=-ENL_V_MAT_EXTRU_7_DEPTH, mode=Mode.SUBTRACT)

    # Esquisse9 → Enlèv. mat.-Extru.8 (cut, through all)
    with BuildSketch(Plane(origin=(0, 0, 0), x_dir=(-1, 0, 0), z_dir=(0, 0, -1))):
        with Locations((-135, -33.48)):
            Circle(ESQUISSE9_R)
        with Locations((-86.78, -34.71)):
            Circle(ESQUISSE9_R)
        with Locations((-86.78, 47.76)):
            Circle(ESQUISSE9_R)
        with Locations((-135, 41.4)):
            Circle(ESQUISSE9_R)
    extrude(amount=-ENL_V_MAT_EXTRU_8_DEPTH, mode=Mode.SUBTRACT)

    # Sketch6 → Cut-Extrude5 (cut)
    with BuildSketch(Plane.XY.offset(5.6)):
        with Locations((82.7, 0)):
            Rectangle(SKETCH6_W, SKETCH6_H)
    extrude(amount=-CUT_EXTRUDE5_DEPTH, mode=Mode.SUBTRACT)

    # Esquisse12 → Enlèv. mat.-Extru.11 (cut, through all)
    with BuildSketch(Plane.XY.offset(5.6)):
        with Locations((114.142135624, 65)):
            Circle(ESQUISSE12_R)
        with Locations((96.464466094, 47.32233047)):
            Circle(ESQUISSE12_R)
        with Locations(Location((213.535533906, 47.32233047, 0), (0, 0, 180))):
            Circle(ESQUISSE12_R)
        with Locations(Location((195.857864376, 65, 0), (0, 0, 180))):
            Circle(ESQUISSE12_R)
        with Locations((213.535533906, -47.32233047)):
            Circle(ESQUISSE12_R)
        with Locations((195.857864376, -65)):
            Circle(ESQUISSE12_R)
        with Locations(Location((114.142135624, -65, 0), (0, 0, 180))):
            Circle(ESQUISSE12_R)
        with Locations(Location((96.464466094, -47.32233047, 0), (0, 0, 180))):
            Circle(ESQUISSE12_R)
    extrude(amount=-ENL_V_MAT_EXTRU_11_DEPTH, mode=Mode.SUBTRACT)

    # Fillet1
    fillet1_edges = [part.edges().sort_by_distance(p)[0] for p in [
        (0, 35.4, 2.8),
        (310, 35.4, 2.8),
        (0, -35.4, 2.8),
        (310, -35.4, 2.8),
    ]]
    fillet(fillet1_edges, radius=FILLET1_R)

    # Fillet2
    fillet2_edges = [part.edges().sort_by_distance(p)[0] for p in [
        (70, 35.4, 2.8),
        (240, 35.4, 2.8),
        (190, 85.4, 2.8),
        (120, 85.4, 2.8),
        (240, -35.4, 2.8),
        (190, -85.4, 2.8),
        (120, -85.4, 2.8),
        (70, -35.4, 2.8),
    ]]
    fillet(fillet2_edges, radius=FILLET2_R)

    # Sketch8 → Cut-Extrude7 (cut, through all)
    with BuildSketch(Plane.XY.offset(5.6)):
        with Locations((78.226689569, 24.875)):
            Circle(SKETCH8_R)
        with Locations((127.576689569, 24.875)):
            Circle(SKETCH8_R)
        with Locations((127.576689569, -24.475)):
            Circle(SKETCH8_R)
        with Locations((78.226689569, -24.475)):
            Circle(SKETCH8_R)
    extrude(amount=-CUT_EXTRUDE7_DEPTH, mode=Mode.SUBTRACT)


solid = part.part
